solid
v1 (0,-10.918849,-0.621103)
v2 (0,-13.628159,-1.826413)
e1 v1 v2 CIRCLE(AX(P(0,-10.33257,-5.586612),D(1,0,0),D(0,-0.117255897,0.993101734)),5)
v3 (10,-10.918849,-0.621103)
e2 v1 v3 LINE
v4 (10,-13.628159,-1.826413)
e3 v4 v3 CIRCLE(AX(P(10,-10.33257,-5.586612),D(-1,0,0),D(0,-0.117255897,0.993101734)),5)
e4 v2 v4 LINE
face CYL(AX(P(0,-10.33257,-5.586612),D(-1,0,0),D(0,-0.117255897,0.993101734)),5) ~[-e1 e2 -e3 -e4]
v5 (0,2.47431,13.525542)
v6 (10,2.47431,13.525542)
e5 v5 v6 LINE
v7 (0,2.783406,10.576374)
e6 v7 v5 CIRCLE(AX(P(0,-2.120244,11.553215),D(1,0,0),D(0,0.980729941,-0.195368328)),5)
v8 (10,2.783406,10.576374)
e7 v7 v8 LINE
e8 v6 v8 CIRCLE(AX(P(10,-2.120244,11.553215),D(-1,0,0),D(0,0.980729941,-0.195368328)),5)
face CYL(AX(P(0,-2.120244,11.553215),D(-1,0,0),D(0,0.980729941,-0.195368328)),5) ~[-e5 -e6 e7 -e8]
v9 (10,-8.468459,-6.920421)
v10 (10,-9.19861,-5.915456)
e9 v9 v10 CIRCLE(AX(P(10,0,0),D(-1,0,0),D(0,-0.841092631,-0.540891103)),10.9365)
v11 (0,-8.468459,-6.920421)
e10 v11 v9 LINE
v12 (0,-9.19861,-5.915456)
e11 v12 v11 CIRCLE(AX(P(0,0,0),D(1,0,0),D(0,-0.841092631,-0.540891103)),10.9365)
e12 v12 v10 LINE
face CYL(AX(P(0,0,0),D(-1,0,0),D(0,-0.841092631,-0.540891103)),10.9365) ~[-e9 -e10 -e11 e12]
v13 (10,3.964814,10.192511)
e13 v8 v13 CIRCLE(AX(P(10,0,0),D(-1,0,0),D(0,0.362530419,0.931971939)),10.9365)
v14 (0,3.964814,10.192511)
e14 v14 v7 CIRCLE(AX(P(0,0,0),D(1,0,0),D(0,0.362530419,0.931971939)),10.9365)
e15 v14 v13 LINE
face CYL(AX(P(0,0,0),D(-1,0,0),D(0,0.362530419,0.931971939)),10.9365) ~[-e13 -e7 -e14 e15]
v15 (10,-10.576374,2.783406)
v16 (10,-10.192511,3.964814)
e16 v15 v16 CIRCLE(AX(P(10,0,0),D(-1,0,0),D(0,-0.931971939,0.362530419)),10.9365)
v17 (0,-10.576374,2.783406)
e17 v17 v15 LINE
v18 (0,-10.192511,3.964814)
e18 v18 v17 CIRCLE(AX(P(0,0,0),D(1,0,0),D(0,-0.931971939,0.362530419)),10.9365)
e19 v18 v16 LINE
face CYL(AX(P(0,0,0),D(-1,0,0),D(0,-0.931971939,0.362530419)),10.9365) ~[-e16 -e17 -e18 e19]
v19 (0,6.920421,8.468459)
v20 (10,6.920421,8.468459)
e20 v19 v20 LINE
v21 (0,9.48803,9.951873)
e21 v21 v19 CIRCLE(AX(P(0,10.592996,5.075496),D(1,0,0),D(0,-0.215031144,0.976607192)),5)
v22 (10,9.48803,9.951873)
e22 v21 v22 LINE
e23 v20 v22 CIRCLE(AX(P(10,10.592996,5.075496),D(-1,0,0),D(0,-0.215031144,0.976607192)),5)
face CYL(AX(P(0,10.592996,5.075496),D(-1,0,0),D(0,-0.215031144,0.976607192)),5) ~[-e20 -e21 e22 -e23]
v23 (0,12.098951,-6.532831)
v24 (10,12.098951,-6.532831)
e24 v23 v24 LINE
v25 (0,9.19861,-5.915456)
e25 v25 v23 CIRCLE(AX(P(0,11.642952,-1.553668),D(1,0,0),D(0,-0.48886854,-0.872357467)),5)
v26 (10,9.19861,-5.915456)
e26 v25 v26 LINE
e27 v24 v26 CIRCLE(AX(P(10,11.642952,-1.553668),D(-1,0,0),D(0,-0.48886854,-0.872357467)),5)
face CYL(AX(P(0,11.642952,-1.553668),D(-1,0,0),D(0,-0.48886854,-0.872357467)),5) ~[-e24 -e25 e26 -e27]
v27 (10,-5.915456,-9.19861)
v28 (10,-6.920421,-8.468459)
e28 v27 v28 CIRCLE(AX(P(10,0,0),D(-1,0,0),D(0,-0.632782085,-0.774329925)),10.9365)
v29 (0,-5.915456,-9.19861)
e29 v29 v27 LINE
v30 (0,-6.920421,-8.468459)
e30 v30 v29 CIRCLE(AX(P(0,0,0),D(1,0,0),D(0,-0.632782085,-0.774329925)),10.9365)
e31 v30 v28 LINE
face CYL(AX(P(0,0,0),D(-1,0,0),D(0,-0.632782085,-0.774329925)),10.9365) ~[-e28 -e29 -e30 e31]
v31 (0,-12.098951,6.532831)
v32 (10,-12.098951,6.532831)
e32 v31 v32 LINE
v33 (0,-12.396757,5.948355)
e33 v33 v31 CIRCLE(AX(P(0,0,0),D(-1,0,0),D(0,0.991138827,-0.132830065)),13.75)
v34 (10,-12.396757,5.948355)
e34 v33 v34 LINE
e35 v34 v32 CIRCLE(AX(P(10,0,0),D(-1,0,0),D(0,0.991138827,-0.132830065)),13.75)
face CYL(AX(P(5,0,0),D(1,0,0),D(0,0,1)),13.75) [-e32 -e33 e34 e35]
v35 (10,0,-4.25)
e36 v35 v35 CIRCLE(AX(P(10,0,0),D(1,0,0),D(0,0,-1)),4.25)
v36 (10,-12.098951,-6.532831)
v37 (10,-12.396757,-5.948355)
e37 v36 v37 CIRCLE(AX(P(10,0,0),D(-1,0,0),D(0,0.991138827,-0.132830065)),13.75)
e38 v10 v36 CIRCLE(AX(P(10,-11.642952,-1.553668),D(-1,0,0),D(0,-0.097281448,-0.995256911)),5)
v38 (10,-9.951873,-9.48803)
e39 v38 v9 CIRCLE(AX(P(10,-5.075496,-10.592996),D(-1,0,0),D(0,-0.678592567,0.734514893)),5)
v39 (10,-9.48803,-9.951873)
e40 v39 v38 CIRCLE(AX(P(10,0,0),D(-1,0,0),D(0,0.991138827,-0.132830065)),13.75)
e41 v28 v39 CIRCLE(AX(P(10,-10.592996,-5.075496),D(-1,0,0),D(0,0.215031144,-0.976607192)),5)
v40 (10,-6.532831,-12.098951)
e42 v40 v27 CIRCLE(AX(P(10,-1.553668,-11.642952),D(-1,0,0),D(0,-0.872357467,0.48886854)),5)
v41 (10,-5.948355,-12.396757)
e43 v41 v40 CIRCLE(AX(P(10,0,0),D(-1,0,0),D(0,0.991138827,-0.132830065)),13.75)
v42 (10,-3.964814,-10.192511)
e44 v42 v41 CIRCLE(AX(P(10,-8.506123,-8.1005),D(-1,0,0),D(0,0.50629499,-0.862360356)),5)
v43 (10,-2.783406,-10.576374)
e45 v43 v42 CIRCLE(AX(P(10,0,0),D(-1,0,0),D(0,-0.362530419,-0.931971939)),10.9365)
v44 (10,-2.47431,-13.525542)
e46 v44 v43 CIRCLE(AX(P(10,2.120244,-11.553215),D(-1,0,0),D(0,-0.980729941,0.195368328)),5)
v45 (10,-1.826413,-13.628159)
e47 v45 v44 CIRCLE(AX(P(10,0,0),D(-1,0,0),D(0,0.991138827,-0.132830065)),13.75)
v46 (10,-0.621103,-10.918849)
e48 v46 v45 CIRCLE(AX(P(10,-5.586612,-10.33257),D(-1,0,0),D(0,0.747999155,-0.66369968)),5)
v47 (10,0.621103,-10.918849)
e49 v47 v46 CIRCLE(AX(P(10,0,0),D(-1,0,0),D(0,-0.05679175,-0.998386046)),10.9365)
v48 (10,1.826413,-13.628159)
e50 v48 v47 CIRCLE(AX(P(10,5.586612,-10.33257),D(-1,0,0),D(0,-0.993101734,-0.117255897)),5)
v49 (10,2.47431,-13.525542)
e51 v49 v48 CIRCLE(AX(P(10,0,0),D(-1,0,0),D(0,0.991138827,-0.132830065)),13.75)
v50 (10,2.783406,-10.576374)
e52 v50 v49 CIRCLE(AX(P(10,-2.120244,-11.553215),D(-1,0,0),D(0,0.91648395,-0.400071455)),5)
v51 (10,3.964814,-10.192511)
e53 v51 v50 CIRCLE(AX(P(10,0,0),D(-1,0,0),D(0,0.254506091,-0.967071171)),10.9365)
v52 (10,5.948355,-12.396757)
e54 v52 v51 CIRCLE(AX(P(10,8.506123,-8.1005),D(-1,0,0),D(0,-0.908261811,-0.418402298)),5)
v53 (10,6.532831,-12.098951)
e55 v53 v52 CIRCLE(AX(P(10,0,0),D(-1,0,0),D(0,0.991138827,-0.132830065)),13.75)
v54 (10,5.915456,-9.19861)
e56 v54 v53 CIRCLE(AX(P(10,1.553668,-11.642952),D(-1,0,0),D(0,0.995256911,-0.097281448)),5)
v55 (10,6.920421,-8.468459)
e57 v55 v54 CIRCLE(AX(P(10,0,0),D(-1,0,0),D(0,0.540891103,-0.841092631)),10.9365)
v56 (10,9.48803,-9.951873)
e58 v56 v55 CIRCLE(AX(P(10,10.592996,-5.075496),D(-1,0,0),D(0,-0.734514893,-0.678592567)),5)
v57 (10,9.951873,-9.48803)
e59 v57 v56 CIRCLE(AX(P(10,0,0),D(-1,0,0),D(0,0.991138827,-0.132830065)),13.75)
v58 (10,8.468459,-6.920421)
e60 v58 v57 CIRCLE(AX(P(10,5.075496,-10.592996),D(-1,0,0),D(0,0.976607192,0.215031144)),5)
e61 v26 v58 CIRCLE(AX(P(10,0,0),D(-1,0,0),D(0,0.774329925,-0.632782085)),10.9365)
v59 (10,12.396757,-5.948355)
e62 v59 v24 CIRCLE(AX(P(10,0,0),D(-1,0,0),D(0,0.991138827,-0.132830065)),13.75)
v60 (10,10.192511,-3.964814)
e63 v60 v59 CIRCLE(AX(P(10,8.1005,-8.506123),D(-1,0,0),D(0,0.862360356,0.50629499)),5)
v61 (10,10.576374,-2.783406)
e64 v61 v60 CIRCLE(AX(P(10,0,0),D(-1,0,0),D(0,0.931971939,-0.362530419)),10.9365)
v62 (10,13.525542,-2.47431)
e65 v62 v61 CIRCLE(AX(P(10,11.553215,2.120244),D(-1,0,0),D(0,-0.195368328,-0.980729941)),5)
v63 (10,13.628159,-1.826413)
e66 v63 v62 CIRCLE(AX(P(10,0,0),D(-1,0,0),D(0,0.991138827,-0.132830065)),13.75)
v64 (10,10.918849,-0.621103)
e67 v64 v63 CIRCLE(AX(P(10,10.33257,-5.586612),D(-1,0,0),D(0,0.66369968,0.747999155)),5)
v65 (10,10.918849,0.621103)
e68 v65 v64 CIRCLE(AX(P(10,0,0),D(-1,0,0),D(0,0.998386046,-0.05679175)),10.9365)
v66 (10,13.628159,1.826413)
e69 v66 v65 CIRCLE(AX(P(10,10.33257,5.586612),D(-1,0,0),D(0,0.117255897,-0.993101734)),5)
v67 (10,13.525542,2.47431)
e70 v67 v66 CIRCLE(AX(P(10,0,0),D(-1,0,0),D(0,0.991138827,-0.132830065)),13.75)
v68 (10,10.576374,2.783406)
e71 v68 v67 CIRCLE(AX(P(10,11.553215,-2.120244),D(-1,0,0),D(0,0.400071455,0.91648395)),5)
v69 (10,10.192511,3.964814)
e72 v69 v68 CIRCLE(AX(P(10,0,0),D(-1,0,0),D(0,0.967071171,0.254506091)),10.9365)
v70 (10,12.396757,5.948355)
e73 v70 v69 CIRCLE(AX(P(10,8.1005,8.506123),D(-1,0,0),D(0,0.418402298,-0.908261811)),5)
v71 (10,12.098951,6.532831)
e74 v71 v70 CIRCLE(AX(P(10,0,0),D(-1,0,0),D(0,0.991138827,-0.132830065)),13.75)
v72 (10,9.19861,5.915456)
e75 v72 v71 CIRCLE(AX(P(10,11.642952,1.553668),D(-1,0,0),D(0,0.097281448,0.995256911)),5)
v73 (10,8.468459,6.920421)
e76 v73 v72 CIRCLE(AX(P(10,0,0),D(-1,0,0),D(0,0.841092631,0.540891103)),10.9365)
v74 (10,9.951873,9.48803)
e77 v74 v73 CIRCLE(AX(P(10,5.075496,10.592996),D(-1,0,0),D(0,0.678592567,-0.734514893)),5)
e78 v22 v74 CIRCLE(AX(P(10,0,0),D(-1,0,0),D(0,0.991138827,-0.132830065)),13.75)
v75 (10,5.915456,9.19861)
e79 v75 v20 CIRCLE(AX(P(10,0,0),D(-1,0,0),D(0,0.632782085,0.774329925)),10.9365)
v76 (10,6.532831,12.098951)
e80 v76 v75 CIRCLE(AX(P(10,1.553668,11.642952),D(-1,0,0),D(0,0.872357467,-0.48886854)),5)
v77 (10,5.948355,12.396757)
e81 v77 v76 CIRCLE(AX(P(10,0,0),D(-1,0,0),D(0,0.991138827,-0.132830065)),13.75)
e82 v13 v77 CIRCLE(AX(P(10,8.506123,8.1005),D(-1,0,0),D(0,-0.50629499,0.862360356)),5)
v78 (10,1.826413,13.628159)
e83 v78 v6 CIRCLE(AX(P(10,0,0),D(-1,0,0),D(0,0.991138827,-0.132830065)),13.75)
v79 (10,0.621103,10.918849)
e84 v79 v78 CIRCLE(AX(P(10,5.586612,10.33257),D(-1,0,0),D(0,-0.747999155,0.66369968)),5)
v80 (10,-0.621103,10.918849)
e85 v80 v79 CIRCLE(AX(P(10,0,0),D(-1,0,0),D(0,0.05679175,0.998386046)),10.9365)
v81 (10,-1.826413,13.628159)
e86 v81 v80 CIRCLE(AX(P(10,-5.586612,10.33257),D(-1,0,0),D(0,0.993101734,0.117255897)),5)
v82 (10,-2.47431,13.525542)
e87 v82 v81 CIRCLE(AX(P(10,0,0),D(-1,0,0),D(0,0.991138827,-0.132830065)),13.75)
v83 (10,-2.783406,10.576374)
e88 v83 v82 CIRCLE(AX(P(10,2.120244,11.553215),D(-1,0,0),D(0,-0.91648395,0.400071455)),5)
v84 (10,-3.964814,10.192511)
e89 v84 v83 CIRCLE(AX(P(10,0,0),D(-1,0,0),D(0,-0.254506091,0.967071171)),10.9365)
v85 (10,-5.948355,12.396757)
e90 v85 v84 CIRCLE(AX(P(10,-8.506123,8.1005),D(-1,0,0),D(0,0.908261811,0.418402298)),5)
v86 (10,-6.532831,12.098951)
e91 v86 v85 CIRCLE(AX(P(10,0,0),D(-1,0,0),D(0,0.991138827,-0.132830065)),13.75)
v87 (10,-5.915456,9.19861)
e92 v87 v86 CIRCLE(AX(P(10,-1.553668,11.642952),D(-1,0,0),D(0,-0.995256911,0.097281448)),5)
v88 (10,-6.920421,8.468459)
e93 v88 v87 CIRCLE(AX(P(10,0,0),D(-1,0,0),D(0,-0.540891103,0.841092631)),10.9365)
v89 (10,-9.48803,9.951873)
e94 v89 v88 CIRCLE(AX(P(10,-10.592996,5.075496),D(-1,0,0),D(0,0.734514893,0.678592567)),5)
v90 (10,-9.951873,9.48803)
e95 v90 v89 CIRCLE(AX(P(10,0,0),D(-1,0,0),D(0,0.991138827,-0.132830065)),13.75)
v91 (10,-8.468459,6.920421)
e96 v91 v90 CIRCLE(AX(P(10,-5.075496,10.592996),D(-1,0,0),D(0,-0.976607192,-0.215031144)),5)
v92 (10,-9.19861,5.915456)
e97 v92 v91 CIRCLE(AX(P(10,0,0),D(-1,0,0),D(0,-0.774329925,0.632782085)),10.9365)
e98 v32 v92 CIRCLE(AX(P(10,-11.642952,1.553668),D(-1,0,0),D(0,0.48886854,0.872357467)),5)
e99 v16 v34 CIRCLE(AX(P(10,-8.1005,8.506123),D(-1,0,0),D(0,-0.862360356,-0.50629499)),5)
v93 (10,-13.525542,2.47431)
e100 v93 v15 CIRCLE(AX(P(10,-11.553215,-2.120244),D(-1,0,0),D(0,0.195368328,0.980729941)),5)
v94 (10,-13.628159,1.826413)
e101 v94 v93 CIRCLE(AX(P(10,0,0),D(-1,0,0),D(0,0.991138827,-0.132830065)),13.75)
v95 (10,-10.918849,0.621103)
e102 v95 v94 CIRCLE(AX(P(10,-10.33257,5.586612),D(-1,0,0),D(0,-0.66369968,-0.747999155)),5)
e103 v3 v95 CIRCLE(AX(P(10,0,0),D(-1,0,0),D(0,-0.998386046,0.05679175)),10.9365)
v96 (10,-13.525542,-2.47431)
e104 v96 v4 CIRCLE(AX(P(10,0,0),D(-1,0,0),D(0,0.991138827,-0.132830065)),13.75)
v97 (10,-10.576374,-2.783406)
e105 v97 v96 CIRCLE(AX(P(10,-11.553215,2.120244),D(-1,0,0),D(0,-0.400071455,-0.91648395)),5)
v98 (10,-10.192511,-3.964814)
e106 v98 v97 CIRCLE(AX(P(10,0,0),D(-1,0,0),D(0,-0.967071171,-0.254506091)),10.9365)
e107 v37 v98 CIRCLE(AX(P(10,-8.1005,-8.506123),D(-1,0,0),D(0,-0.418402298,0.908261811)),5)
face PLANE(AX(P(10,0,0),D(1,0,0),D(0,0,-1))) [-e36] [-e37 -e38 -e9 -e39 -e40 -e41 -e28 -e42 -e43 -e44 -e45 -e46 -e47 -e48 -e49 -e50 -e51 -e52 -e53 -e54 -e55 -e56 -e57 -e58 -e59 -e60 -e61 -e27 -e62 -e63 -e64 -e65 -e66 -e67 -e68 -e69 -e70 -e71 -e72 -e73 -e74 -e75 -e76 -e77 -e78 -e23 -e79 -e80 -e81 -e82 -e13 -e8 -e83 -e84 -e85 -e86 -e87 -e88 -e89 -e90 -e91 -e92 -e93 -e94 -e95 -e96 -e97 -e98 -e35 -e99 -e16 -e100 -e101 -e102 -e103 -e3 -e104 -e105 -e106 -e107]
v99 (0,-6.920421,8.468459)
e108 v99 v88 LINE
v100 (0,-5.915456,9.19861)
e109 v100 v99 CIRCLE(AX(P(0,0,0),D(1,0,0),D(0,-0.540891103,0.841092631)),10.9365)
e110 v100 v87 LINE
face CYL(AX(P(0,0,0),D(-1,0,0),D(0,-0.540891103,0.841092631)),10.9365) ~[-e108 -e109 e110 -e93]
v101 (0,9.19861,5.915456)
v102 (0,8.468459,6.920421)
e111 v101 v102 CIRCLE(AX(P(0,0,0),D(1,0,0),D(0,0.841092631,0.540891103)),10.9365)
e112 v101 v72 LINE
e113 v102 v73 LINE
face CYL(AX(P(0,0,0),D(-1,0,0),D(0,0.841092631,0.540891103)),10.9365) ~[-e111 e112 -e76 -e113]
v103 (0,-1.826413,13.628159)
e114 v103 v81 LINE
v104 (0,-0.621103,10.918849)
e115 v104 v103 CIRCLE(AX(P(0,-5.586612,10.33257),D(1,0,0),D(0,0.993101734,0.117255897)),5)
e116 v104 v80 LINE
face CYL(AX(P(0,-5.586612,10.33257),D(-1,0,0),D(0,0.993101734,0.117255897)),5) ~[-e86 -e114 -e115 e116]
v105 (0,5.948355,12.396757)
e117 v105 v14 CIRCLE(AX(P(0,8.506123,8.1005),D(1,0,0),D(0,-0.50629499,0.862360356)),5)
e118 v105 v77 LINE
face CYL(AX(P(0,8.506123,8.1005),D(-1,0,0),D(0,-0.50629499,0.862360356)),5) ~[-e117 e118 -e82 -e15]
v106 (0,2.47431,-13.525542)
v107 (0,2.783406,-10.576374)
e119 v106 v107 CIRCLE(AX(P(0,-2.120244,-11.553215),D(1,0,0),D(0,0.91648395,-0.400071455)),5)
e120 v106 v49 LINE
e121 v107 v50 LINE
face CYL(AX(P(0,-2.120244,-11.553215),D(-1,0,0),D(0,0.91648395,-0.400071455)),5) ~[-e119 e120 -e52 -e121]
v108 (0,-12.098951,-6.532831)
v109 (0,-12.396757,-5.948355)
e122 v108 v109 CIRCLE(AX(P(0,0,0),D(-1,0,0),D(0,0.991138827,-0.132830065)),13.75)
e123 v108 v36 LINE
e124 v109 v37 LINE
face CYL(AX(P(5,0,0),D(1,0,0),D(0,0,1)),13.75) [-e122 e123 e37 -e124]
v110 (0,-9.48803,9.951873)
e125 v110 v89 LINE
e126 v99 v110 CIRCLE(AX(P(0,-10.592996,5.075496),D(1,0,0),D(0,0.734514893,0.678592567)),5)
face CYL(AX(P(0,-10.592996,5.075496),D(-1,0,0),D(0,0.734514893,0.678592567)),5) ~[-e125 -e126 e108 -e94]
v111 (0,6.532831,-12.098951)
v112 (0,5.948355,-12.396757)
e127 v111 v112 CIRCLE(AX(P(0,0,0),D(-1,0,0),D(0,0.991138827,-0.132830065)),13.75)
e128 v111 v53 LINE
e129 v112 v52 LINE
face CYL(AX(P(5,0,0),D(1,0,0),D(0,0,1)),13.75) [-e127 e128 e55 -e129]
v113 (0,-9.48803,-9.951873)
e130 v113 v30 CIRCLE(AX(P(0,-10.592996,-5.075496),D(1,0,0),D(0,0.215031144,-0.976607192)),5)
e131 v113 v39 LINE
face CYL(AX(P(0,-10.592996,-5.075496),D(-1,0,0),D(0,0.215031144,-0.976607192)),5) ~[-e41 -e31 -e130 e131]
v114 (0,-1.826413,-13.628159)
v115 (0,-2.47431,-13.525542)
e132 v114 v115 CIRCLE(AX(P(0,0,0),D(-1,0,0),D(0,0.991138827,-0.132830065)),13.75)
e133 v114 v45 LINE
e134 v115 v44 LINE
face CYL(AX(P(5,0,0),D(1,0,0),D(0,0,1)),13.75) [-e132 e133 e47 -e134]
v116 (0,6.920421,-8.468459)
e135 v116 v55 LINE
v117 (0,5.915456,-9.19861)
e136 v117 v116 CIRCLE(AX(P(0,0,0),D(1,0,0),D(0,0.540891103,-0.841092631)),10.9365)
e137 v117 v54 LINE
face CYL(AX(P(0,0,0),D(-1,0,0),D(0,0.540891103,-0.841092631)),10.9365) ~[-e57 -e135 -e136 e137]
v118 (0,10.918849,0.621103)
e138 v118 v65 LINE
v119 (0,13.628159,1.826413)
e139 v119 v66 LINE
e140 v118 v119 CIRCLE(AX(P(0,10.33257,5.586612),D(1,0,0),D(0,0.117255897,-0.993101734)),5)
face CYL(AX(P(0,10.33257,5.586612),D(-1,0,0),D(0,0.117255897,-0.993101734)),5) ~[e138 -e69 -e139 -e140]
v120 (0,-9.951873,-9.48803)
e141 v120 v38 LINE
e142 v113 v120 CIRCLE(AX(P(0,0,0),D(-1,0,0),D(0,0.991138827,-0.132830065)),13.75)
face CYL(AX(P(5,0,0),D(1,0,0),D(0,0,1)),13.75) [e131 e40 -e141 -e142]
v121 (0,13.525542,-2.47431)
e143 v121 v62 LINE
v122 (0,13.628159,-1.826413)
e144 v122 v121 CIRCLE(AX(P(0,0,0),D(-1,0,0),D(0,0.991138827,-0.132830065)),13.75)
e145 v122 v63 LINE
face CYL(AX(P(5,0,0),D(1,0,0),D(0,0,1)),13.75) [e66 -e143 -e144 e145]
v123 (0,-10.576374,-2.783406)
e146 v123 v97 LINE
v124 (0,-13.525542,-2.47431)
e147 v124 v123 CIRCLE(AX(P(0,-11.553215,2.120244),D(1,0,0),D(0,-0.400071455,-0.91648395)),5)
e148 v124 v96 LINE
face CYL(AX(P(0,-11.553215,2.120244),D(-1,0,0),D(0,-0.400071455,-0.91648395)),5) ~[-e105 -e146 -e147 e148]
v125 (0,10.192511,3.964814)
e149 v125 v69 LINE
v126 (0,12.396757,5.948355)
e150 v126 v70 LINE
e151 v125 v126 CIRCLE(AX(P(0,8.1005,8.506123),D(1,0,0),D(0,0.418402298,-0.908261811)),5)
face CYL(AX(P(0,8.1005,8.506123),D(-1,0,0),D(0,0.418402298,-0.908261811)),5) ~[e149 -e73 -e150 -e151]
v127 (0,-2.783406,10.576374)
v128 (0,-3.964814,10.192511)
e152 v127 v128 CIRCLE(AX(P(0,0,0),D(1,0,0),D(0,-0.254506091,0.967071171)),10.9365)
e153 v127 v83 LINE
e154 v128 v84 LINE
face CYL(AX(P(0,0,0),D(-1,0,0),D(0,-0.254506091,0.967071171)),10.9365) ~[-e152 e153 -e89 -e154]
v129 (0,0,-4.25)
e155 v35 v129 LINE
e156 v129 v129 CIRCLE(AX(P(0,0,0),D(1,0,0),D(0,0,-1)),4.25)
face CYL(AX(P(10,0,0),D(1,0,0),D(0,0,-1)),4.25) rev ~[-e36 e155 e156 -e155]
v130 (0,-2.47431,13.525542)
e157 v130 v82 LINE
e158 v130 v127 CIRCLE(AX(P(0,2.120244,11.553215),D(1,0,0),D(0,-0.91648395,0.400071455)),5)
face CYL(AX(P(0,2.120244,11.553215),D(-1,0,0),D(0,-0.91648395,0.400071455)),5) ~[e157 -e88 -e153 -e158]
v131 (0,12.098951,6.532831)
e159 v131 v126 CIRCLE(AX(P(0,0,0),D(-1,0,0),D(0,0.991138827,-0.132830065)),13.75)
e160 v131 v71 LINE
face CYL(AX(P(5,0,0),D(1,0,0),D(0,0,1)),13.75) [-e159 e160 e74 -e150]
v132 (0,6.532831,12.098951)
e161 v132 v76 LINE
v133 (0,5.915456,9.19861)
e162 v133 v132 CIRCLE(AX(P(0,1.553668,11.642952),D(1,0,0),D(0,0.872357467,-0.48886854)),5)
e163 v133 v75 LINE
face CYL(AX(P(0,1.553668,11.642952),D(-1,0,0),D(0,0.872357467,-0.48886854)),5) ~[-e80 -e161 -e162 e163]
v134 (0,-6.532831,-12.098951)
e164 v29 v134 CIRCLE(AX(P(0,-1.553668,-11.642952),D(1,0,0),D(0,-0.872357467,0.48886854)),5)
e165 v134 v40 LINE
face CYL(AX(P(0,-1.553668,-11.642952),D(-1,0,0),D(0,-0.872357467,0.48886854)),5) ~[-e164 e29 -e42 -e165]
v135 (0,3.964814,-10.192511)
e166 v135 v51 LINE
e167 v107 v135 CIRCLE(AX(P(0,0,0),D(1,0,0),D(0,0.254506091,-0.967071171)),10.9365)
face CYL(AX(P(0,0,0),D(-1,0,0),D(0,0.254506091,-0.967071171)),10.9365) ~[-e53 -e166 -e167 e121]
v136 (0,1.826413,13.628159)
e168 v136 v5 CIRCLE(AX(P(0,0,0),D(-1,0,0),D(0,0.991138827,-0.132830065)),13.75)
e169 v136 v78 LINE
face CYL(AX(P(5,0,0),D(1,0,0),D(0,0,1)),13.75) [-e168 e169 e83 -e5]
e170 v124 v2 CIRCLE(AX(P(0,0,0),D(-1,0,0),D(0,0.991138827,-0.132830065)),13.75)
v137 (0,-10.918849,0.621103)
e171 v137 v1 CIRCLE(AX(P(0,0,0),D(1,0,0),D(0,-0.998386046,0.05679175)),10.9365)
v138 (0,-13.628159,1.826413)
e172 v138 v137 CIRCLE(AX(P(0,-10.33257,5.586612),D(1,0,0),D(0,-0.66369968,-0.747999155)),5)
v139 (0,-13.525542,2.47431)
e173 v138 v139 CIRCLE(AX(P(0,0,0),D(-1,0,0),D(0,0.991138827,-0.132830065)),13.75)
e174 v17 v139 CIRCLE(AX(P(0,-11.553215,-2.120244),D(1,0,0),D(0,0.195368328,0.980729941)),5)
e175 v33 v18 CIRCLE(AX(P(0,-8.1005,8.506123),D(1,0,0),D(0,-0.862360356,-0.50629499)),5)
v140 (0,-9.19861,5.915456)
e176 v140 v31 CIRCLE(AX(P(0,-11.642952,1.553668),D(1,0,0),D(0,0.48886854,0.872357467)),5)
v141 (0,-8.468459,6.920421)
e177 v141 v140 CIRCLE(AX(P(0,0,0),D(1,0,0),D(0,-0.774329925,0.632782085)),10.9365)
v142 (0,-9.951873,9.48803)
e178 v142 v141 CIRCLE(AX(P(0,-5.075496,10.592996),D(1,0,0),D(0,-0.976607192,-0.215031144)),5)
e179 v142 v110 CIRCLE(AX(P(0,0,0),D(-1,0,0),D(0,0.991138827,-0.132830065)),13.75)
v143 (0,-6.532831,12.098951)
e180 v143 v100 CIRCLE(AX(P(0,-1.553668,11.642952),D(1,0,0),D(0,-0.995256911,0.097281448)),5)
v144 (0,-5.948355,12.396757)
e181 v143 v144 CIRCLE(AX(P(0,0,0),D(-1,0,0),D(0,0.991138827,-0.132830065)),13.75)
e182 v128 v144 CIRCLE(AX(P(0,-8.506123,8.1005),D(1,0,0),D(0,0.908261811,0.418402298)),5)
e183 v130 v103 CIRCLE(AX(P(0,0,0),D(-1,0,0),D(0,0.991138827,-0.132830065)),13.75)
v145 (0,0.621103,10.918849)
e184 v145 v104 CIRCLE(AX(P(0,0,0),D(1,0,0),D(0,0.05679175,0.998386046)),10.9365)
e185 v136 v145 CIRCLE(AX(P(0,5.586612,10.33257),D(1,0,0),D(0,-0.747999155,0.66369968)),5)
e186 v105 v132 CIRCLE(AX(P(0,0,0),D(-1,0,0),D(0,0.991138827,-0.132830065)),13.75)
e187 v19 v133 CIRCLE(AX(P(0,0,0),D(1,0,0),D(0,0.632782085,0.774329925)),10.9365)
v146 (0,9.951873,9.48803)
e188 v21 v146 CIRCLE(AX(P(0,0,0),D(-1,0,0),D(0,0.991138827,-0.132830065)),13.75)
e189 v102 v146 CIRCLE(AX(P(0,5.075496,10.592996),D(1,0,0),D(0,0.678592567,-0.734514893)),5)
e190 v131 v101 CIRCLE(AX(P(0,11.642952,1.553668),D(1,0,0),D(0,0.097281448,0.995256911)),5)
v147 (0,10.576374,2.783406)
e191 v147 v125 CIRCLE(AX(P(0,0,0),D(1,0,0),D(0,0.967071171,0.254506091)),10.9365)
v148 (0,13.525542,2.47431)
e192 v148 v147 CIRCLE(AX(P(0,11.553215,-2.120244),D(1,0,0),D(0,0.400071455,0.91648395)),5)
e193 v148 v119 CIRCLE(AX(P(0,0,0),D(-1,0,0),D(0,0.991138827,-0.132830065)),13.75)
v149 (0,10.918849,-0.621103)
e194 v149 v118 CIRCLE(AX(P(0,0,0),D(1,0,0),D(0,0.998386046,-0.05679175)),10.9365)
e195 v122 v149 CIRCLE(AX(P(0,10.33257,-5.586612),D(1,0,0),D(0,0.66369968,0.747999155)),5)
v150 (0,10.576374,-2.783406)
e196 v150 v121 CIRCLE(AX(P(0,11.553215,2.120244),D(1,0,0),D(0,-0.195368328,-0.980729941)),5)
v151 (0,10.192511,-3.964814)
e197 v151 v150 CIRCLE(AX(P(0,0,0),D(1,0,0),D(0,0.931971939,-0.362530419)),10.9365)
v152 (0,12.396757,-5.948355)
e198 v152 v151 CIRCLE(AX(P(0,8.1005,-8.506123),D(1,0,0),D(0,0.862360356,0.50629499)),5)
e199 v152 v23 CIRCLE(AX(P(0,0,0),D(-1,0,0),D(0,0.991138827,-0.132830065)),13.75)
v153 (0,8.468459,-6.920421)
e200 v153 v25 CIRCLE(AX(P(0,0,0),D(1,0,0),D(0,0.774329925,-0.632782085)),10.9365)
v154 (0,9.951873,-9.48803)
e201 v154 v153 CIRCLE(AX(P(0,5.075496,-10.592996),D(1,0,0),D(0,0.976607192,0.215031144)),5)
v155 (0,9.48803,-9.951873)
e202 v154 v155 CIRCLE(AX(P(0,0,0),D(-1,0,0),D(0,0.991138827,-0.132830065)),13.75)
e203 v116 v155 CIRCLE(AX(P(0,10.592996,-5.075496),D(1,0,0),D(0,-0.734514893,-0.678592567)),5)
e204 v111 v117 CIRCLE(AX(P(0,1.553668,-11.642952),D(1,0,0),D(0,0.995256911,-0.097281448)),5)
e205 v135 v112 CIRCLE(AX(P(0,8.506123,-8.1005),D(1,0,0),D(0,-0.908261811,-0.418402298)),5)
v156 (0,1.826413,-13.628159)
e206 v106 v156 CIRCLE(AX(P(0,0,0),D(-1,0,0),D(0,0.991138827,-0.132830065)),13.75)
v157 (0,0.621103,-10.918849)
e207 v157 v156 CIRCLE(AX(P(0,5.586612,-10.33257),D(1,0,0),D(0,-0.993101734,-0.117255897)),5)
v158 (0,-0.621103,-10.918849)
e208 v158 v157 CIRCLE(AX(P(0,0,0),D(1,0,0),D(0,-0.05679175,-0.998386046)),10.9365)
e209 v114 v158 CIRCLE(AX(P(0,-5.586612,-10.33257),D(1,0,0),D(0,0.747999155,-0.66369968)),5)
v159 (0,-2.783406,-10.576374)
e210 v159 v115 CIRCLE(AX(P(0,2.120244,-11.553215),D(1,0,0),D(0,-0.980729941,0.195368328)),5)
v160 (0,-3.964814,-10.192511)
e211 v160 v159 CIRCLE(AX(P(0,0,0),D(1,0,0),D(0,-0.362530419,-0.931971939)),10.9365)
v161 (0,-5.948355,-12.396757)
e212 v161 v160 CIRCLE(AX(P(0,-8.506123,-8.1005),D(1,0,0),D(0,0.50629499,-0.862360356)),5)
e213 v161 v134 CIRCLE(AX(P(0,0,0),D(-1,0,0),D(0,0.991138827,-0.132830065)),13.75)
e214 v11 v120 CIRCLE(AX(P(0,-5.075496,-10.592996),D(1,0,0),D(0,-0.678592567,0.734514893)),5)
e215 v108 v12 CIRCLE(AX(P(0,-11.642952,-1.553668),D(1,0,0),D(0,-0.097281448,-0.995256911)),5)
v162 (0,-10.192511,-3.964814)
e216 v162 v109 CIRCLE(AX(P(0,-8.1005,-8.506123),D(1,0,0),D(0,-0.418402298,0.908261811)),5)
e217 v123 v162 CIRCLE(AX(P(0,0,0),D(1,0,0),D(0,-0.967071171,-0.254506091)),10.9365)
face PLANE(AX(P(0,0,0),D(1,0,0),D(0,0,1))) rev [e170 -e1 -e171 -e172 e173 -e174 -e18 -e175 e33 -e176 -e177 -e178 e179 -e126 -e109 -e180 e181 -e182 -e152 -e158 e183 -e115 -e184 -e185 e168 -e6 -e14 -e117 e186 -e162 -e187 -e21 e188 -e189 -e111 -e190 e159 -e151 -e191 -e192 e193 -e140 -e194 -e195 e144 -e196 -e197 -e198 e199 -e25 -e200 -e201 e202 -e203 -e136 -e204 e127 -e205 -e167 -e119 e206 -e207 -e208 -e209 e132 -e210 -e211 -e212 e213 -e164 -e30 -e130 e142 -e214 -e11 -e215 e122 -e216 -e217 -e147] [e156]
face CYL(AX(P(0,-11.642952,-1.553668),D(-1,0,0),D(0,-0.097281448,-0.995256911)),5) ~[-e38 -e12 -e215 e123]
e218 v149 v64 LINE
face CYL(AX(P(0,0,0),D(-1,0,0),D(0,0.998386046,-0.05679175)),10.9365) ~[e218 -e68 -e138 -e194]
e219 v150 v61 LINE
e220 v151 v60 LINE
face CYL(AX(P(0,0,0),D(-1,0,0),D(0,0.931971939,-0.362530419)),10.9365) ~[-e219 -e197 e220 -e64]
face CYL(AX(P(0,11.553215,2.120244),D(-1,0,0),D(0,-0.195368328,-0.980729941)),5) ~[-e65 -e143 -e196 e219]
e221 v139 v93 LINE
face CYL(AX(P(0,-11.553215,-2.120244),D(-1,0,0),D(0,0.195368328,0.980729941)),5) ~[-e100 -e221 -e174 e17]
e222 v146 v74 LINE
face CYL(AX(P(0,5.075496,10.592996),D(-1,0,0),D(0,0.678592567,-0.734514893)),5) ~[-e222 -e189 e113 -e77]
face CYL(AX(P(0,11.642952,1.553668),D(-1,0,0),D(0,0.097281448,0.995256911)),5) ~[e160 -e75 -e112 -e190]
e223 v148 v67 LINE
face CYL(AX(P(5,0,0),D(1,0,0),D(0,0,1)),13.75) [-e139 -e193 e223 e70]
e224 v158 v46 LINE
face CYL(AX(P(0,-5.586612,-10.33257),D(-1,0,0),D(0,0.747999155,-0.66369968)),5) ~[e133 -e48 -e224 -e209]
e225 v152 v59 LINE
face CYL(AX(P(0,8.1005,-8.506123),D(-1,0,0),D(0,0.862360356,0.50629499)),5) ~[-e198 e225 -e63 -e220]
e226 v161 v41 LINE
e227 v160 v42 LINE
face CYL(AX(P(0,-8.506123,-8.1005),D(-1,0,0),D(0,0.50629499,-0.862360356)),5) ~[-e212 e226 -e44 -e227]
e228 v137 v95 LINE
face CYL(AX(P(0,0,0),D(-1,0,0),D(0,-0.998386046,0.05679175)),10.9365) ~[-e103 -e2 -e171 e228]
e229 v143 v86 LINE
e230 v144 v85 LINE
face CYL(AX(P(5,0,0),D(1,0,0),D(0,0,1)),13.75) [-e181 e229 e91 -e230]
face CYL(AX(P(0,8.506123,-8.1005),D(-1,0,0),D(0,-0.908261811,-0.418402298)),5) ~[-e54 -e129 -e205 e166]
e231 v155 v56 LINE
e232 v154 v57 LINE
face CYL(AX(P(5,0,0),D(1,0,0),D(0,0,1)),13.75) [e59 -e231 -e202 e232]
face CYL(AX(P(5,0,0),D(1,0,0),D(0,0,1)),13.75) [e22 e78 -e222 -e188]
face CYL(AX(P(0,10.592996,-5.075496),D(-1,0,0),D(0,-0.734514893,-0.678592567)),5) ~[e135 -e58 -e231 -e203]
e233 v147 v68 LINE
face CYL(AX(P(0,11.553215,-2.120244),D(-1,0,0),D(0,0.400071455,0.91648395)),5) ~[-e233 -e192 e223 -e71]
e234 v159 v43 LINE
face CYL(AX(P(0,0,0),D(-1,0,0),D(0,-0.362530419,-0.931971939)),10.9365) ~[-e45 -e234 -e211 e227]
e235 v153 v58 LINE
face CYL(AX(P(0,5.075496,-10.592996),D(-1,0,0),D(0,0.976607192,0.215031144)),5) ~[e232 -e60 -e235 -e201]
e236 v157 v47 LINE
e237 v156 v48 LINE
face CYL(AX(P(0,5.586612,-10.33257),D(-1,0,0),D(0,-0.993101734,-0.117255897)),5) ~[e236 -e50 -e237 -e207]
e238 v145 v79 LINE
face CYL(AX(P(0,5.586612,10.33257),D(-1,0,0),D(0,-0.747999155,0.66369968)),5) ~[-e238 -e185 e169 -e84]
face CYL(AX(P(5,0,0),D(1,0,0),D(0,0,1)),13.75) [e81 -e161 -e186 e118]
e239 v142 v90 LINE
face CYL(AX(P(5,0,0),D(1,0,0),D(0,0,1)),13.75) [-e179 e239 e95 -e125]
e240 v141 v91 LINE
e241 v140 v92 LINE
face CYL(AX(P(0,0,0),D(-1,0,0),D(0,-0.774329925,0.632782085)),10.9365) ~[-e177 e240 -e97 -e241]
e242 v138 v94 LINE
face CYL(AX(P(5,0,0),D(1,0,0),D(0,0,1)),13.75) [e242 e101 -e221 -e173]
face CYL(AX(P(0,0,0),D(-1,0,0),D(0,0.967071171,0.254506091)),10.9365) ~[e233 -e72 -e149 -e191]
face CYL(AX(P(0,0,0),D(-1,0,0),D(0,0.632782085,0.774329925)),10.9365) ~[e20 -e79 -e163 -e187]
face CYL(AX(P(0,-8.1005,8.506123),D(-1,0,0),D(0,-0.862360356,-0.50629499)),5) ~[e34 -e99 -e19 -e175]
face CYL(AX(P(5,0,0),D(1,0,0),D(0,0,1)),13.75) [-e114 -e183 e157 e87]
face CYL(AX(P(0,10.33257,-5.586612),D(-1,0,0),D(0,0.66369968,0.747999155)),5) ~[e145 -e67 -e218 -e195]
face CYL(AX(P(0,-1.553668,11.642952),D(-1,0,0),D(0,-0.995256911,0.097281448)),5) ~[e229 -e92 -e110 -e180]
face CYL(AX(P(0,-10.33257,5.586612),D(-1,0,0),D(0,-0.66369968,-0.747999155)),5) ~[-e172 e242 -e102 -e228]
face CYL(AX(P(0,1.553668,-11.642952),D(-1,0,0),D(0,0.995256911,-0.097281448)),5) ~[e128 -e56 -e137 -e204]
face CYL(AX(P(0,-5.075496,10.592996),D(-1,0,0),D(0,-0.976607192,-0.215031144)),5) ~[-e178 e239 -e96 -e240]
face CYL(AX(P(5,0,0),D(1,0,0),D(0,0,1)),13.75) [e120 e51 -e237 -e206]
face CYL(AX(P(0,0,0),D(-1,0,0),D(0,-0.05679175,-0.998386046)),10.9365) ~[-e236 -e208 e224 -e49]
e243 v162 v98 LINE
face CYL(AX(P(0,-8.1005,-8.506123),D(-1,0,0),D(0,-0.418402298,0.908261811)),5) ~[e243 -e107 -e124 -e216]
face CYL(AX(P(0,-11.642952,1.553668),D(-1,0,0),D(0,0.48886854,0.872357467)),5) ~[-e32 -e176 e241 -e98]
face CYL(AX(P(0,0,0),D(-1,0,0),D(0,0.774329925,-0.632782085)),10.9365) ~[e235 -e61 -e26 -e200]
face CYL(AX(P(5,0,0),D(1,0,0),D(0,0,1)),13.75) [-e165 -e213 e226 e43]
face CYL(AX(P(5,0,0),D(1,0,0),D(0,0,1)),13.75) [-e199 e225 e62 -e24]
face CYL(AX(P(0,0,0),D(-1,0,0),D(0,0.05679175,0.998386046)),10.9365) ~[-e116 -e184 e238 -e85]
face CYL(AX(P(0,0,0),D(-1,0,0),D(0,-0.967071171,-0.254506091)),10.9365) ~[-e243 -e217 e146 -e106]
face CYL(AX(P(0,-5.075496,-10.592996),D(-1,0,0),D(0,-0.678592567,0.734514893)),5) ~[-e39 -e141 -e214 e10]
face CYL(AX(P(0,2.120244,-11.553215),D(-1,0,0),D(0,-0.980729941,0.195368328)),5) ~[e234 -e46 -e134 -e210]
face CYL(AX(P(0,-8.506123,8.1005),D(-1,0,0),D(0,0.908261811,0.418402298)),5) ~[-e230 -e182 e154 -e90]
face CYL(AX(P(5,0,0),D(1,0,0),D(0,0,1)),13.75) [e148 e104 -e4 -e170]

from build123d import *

# Parameters (mm, degrees)
BASPROSKE_W         = 10
BASPROSKE_H         = 13.75
TOOTHCUT_DEPTH      = 22.866069606
TEETHCUTS_COUNT     = 20
TEETHCUTS_ANGLE     = 342
BORSKE_R            = 2
BORE_DEPTH          = 50.0000508
SKETCH2_R           = 2
BOSS_EXTRUDE1_DEPTH = 10
SKETCH3_R           = 4.25
CUT_EXTRUDE2_DEPTH  = 10


with BuildPart() as part:
    # BasProSke → Base-Revolve (revolve)
    with BuildSketch(Plane(origin=(0, 0, 0), x_dir=(1, 0, 0), z_dir=(0, 1, 0)), mode=Mode.PRIVATE) as base_revolve_sk:
        with Locations((5, 6.875)):
            Rectangle(BASPROSKE_W, BASPROSKE_H)
    revolve(base_revolve_sk.sketch.rotate(Axis((-10, 0, 0), (1, 0, 0)), 180), axis=Axis((-10, 0, 0), (1, 0, 0)))

    # TooCutSke → ToothCut (cut, through all)
    with BuildSketch(Plane(origin=(0, 0, 0), x_dir=(0, 0, -1), z_dir=(1, 0, 0))):
        with BuildLine():
            ThreePointArc((0.62110296, 10.918848994), (0, 10.9365), (-0.62110296, 10.918848994))
            ThreePointArc((-0.62110296, 10.918848994), (-1.024517052, 12.378857135), (-1.846615859, 13.651067908))
            ThreePointArc((-1.846615859, 13.651067908), (0, 13.7754), (1.846615859, 13.651067908))
            ThreePointArc((1.846615859, 13.651067908), (1.024517052, 12.378857135), (0.62110296, 10.918848994))
        make_face()
    toothcut = extrude(amount=TOOTHCUT_DEPTH, mode=Mode.SUBTRACT)

    # TeethCuts: ToothCut ×20 about axis
    teethcuts_axis = Axis((-10, 0, 0), (1, 0, 0))
    for i in range(1, TEETHCUTS_COUNT):
        add(toothcut.rotate(teethcuts_axis, i * TEETHCUTS_ANGLE / (TEETHCUTS_COUNT - 1)), mode=Mode.SUBTRACT)

    # BorSke → Bore (cut, symmetric)
    with BuildSketch(Plane(origin=(0, 0, 0), x_dir=(0, 0, -1), z_dir=(1, 0, 0))):
        with Locations(Location((0, 0, 0), (0, 0, 180))):
            Circle(BORSKE_R)
    extrude(amount=BORE_DEPTH, both=True, mode=Mode.SUBTRACT)

    # Sketch2 → Boss-Extrude1 (add)
    with BuildSketch(Plane(origin=(10, 0, 0), x_dir=(0, 0, -1), z_dir=(1, 0, 0))):
        Circle(SKETCH2_R)
    extrude(amount=-BOSS_EXTRUDE1_DEPTH)

    # Sketch3 → Cut-Extrude2 (cut)
    with BuildSketch(Plane(origin=(10, 0, 0), x_dir=(0, 0, -1), z_dir=(1, 0, 0))):
        Circle(SKETCH3_R)
    extrude(amount=-CUT_EXTRUDE2_DEPTH, mode=Mode.SUBTRACT)


solid = part.part
